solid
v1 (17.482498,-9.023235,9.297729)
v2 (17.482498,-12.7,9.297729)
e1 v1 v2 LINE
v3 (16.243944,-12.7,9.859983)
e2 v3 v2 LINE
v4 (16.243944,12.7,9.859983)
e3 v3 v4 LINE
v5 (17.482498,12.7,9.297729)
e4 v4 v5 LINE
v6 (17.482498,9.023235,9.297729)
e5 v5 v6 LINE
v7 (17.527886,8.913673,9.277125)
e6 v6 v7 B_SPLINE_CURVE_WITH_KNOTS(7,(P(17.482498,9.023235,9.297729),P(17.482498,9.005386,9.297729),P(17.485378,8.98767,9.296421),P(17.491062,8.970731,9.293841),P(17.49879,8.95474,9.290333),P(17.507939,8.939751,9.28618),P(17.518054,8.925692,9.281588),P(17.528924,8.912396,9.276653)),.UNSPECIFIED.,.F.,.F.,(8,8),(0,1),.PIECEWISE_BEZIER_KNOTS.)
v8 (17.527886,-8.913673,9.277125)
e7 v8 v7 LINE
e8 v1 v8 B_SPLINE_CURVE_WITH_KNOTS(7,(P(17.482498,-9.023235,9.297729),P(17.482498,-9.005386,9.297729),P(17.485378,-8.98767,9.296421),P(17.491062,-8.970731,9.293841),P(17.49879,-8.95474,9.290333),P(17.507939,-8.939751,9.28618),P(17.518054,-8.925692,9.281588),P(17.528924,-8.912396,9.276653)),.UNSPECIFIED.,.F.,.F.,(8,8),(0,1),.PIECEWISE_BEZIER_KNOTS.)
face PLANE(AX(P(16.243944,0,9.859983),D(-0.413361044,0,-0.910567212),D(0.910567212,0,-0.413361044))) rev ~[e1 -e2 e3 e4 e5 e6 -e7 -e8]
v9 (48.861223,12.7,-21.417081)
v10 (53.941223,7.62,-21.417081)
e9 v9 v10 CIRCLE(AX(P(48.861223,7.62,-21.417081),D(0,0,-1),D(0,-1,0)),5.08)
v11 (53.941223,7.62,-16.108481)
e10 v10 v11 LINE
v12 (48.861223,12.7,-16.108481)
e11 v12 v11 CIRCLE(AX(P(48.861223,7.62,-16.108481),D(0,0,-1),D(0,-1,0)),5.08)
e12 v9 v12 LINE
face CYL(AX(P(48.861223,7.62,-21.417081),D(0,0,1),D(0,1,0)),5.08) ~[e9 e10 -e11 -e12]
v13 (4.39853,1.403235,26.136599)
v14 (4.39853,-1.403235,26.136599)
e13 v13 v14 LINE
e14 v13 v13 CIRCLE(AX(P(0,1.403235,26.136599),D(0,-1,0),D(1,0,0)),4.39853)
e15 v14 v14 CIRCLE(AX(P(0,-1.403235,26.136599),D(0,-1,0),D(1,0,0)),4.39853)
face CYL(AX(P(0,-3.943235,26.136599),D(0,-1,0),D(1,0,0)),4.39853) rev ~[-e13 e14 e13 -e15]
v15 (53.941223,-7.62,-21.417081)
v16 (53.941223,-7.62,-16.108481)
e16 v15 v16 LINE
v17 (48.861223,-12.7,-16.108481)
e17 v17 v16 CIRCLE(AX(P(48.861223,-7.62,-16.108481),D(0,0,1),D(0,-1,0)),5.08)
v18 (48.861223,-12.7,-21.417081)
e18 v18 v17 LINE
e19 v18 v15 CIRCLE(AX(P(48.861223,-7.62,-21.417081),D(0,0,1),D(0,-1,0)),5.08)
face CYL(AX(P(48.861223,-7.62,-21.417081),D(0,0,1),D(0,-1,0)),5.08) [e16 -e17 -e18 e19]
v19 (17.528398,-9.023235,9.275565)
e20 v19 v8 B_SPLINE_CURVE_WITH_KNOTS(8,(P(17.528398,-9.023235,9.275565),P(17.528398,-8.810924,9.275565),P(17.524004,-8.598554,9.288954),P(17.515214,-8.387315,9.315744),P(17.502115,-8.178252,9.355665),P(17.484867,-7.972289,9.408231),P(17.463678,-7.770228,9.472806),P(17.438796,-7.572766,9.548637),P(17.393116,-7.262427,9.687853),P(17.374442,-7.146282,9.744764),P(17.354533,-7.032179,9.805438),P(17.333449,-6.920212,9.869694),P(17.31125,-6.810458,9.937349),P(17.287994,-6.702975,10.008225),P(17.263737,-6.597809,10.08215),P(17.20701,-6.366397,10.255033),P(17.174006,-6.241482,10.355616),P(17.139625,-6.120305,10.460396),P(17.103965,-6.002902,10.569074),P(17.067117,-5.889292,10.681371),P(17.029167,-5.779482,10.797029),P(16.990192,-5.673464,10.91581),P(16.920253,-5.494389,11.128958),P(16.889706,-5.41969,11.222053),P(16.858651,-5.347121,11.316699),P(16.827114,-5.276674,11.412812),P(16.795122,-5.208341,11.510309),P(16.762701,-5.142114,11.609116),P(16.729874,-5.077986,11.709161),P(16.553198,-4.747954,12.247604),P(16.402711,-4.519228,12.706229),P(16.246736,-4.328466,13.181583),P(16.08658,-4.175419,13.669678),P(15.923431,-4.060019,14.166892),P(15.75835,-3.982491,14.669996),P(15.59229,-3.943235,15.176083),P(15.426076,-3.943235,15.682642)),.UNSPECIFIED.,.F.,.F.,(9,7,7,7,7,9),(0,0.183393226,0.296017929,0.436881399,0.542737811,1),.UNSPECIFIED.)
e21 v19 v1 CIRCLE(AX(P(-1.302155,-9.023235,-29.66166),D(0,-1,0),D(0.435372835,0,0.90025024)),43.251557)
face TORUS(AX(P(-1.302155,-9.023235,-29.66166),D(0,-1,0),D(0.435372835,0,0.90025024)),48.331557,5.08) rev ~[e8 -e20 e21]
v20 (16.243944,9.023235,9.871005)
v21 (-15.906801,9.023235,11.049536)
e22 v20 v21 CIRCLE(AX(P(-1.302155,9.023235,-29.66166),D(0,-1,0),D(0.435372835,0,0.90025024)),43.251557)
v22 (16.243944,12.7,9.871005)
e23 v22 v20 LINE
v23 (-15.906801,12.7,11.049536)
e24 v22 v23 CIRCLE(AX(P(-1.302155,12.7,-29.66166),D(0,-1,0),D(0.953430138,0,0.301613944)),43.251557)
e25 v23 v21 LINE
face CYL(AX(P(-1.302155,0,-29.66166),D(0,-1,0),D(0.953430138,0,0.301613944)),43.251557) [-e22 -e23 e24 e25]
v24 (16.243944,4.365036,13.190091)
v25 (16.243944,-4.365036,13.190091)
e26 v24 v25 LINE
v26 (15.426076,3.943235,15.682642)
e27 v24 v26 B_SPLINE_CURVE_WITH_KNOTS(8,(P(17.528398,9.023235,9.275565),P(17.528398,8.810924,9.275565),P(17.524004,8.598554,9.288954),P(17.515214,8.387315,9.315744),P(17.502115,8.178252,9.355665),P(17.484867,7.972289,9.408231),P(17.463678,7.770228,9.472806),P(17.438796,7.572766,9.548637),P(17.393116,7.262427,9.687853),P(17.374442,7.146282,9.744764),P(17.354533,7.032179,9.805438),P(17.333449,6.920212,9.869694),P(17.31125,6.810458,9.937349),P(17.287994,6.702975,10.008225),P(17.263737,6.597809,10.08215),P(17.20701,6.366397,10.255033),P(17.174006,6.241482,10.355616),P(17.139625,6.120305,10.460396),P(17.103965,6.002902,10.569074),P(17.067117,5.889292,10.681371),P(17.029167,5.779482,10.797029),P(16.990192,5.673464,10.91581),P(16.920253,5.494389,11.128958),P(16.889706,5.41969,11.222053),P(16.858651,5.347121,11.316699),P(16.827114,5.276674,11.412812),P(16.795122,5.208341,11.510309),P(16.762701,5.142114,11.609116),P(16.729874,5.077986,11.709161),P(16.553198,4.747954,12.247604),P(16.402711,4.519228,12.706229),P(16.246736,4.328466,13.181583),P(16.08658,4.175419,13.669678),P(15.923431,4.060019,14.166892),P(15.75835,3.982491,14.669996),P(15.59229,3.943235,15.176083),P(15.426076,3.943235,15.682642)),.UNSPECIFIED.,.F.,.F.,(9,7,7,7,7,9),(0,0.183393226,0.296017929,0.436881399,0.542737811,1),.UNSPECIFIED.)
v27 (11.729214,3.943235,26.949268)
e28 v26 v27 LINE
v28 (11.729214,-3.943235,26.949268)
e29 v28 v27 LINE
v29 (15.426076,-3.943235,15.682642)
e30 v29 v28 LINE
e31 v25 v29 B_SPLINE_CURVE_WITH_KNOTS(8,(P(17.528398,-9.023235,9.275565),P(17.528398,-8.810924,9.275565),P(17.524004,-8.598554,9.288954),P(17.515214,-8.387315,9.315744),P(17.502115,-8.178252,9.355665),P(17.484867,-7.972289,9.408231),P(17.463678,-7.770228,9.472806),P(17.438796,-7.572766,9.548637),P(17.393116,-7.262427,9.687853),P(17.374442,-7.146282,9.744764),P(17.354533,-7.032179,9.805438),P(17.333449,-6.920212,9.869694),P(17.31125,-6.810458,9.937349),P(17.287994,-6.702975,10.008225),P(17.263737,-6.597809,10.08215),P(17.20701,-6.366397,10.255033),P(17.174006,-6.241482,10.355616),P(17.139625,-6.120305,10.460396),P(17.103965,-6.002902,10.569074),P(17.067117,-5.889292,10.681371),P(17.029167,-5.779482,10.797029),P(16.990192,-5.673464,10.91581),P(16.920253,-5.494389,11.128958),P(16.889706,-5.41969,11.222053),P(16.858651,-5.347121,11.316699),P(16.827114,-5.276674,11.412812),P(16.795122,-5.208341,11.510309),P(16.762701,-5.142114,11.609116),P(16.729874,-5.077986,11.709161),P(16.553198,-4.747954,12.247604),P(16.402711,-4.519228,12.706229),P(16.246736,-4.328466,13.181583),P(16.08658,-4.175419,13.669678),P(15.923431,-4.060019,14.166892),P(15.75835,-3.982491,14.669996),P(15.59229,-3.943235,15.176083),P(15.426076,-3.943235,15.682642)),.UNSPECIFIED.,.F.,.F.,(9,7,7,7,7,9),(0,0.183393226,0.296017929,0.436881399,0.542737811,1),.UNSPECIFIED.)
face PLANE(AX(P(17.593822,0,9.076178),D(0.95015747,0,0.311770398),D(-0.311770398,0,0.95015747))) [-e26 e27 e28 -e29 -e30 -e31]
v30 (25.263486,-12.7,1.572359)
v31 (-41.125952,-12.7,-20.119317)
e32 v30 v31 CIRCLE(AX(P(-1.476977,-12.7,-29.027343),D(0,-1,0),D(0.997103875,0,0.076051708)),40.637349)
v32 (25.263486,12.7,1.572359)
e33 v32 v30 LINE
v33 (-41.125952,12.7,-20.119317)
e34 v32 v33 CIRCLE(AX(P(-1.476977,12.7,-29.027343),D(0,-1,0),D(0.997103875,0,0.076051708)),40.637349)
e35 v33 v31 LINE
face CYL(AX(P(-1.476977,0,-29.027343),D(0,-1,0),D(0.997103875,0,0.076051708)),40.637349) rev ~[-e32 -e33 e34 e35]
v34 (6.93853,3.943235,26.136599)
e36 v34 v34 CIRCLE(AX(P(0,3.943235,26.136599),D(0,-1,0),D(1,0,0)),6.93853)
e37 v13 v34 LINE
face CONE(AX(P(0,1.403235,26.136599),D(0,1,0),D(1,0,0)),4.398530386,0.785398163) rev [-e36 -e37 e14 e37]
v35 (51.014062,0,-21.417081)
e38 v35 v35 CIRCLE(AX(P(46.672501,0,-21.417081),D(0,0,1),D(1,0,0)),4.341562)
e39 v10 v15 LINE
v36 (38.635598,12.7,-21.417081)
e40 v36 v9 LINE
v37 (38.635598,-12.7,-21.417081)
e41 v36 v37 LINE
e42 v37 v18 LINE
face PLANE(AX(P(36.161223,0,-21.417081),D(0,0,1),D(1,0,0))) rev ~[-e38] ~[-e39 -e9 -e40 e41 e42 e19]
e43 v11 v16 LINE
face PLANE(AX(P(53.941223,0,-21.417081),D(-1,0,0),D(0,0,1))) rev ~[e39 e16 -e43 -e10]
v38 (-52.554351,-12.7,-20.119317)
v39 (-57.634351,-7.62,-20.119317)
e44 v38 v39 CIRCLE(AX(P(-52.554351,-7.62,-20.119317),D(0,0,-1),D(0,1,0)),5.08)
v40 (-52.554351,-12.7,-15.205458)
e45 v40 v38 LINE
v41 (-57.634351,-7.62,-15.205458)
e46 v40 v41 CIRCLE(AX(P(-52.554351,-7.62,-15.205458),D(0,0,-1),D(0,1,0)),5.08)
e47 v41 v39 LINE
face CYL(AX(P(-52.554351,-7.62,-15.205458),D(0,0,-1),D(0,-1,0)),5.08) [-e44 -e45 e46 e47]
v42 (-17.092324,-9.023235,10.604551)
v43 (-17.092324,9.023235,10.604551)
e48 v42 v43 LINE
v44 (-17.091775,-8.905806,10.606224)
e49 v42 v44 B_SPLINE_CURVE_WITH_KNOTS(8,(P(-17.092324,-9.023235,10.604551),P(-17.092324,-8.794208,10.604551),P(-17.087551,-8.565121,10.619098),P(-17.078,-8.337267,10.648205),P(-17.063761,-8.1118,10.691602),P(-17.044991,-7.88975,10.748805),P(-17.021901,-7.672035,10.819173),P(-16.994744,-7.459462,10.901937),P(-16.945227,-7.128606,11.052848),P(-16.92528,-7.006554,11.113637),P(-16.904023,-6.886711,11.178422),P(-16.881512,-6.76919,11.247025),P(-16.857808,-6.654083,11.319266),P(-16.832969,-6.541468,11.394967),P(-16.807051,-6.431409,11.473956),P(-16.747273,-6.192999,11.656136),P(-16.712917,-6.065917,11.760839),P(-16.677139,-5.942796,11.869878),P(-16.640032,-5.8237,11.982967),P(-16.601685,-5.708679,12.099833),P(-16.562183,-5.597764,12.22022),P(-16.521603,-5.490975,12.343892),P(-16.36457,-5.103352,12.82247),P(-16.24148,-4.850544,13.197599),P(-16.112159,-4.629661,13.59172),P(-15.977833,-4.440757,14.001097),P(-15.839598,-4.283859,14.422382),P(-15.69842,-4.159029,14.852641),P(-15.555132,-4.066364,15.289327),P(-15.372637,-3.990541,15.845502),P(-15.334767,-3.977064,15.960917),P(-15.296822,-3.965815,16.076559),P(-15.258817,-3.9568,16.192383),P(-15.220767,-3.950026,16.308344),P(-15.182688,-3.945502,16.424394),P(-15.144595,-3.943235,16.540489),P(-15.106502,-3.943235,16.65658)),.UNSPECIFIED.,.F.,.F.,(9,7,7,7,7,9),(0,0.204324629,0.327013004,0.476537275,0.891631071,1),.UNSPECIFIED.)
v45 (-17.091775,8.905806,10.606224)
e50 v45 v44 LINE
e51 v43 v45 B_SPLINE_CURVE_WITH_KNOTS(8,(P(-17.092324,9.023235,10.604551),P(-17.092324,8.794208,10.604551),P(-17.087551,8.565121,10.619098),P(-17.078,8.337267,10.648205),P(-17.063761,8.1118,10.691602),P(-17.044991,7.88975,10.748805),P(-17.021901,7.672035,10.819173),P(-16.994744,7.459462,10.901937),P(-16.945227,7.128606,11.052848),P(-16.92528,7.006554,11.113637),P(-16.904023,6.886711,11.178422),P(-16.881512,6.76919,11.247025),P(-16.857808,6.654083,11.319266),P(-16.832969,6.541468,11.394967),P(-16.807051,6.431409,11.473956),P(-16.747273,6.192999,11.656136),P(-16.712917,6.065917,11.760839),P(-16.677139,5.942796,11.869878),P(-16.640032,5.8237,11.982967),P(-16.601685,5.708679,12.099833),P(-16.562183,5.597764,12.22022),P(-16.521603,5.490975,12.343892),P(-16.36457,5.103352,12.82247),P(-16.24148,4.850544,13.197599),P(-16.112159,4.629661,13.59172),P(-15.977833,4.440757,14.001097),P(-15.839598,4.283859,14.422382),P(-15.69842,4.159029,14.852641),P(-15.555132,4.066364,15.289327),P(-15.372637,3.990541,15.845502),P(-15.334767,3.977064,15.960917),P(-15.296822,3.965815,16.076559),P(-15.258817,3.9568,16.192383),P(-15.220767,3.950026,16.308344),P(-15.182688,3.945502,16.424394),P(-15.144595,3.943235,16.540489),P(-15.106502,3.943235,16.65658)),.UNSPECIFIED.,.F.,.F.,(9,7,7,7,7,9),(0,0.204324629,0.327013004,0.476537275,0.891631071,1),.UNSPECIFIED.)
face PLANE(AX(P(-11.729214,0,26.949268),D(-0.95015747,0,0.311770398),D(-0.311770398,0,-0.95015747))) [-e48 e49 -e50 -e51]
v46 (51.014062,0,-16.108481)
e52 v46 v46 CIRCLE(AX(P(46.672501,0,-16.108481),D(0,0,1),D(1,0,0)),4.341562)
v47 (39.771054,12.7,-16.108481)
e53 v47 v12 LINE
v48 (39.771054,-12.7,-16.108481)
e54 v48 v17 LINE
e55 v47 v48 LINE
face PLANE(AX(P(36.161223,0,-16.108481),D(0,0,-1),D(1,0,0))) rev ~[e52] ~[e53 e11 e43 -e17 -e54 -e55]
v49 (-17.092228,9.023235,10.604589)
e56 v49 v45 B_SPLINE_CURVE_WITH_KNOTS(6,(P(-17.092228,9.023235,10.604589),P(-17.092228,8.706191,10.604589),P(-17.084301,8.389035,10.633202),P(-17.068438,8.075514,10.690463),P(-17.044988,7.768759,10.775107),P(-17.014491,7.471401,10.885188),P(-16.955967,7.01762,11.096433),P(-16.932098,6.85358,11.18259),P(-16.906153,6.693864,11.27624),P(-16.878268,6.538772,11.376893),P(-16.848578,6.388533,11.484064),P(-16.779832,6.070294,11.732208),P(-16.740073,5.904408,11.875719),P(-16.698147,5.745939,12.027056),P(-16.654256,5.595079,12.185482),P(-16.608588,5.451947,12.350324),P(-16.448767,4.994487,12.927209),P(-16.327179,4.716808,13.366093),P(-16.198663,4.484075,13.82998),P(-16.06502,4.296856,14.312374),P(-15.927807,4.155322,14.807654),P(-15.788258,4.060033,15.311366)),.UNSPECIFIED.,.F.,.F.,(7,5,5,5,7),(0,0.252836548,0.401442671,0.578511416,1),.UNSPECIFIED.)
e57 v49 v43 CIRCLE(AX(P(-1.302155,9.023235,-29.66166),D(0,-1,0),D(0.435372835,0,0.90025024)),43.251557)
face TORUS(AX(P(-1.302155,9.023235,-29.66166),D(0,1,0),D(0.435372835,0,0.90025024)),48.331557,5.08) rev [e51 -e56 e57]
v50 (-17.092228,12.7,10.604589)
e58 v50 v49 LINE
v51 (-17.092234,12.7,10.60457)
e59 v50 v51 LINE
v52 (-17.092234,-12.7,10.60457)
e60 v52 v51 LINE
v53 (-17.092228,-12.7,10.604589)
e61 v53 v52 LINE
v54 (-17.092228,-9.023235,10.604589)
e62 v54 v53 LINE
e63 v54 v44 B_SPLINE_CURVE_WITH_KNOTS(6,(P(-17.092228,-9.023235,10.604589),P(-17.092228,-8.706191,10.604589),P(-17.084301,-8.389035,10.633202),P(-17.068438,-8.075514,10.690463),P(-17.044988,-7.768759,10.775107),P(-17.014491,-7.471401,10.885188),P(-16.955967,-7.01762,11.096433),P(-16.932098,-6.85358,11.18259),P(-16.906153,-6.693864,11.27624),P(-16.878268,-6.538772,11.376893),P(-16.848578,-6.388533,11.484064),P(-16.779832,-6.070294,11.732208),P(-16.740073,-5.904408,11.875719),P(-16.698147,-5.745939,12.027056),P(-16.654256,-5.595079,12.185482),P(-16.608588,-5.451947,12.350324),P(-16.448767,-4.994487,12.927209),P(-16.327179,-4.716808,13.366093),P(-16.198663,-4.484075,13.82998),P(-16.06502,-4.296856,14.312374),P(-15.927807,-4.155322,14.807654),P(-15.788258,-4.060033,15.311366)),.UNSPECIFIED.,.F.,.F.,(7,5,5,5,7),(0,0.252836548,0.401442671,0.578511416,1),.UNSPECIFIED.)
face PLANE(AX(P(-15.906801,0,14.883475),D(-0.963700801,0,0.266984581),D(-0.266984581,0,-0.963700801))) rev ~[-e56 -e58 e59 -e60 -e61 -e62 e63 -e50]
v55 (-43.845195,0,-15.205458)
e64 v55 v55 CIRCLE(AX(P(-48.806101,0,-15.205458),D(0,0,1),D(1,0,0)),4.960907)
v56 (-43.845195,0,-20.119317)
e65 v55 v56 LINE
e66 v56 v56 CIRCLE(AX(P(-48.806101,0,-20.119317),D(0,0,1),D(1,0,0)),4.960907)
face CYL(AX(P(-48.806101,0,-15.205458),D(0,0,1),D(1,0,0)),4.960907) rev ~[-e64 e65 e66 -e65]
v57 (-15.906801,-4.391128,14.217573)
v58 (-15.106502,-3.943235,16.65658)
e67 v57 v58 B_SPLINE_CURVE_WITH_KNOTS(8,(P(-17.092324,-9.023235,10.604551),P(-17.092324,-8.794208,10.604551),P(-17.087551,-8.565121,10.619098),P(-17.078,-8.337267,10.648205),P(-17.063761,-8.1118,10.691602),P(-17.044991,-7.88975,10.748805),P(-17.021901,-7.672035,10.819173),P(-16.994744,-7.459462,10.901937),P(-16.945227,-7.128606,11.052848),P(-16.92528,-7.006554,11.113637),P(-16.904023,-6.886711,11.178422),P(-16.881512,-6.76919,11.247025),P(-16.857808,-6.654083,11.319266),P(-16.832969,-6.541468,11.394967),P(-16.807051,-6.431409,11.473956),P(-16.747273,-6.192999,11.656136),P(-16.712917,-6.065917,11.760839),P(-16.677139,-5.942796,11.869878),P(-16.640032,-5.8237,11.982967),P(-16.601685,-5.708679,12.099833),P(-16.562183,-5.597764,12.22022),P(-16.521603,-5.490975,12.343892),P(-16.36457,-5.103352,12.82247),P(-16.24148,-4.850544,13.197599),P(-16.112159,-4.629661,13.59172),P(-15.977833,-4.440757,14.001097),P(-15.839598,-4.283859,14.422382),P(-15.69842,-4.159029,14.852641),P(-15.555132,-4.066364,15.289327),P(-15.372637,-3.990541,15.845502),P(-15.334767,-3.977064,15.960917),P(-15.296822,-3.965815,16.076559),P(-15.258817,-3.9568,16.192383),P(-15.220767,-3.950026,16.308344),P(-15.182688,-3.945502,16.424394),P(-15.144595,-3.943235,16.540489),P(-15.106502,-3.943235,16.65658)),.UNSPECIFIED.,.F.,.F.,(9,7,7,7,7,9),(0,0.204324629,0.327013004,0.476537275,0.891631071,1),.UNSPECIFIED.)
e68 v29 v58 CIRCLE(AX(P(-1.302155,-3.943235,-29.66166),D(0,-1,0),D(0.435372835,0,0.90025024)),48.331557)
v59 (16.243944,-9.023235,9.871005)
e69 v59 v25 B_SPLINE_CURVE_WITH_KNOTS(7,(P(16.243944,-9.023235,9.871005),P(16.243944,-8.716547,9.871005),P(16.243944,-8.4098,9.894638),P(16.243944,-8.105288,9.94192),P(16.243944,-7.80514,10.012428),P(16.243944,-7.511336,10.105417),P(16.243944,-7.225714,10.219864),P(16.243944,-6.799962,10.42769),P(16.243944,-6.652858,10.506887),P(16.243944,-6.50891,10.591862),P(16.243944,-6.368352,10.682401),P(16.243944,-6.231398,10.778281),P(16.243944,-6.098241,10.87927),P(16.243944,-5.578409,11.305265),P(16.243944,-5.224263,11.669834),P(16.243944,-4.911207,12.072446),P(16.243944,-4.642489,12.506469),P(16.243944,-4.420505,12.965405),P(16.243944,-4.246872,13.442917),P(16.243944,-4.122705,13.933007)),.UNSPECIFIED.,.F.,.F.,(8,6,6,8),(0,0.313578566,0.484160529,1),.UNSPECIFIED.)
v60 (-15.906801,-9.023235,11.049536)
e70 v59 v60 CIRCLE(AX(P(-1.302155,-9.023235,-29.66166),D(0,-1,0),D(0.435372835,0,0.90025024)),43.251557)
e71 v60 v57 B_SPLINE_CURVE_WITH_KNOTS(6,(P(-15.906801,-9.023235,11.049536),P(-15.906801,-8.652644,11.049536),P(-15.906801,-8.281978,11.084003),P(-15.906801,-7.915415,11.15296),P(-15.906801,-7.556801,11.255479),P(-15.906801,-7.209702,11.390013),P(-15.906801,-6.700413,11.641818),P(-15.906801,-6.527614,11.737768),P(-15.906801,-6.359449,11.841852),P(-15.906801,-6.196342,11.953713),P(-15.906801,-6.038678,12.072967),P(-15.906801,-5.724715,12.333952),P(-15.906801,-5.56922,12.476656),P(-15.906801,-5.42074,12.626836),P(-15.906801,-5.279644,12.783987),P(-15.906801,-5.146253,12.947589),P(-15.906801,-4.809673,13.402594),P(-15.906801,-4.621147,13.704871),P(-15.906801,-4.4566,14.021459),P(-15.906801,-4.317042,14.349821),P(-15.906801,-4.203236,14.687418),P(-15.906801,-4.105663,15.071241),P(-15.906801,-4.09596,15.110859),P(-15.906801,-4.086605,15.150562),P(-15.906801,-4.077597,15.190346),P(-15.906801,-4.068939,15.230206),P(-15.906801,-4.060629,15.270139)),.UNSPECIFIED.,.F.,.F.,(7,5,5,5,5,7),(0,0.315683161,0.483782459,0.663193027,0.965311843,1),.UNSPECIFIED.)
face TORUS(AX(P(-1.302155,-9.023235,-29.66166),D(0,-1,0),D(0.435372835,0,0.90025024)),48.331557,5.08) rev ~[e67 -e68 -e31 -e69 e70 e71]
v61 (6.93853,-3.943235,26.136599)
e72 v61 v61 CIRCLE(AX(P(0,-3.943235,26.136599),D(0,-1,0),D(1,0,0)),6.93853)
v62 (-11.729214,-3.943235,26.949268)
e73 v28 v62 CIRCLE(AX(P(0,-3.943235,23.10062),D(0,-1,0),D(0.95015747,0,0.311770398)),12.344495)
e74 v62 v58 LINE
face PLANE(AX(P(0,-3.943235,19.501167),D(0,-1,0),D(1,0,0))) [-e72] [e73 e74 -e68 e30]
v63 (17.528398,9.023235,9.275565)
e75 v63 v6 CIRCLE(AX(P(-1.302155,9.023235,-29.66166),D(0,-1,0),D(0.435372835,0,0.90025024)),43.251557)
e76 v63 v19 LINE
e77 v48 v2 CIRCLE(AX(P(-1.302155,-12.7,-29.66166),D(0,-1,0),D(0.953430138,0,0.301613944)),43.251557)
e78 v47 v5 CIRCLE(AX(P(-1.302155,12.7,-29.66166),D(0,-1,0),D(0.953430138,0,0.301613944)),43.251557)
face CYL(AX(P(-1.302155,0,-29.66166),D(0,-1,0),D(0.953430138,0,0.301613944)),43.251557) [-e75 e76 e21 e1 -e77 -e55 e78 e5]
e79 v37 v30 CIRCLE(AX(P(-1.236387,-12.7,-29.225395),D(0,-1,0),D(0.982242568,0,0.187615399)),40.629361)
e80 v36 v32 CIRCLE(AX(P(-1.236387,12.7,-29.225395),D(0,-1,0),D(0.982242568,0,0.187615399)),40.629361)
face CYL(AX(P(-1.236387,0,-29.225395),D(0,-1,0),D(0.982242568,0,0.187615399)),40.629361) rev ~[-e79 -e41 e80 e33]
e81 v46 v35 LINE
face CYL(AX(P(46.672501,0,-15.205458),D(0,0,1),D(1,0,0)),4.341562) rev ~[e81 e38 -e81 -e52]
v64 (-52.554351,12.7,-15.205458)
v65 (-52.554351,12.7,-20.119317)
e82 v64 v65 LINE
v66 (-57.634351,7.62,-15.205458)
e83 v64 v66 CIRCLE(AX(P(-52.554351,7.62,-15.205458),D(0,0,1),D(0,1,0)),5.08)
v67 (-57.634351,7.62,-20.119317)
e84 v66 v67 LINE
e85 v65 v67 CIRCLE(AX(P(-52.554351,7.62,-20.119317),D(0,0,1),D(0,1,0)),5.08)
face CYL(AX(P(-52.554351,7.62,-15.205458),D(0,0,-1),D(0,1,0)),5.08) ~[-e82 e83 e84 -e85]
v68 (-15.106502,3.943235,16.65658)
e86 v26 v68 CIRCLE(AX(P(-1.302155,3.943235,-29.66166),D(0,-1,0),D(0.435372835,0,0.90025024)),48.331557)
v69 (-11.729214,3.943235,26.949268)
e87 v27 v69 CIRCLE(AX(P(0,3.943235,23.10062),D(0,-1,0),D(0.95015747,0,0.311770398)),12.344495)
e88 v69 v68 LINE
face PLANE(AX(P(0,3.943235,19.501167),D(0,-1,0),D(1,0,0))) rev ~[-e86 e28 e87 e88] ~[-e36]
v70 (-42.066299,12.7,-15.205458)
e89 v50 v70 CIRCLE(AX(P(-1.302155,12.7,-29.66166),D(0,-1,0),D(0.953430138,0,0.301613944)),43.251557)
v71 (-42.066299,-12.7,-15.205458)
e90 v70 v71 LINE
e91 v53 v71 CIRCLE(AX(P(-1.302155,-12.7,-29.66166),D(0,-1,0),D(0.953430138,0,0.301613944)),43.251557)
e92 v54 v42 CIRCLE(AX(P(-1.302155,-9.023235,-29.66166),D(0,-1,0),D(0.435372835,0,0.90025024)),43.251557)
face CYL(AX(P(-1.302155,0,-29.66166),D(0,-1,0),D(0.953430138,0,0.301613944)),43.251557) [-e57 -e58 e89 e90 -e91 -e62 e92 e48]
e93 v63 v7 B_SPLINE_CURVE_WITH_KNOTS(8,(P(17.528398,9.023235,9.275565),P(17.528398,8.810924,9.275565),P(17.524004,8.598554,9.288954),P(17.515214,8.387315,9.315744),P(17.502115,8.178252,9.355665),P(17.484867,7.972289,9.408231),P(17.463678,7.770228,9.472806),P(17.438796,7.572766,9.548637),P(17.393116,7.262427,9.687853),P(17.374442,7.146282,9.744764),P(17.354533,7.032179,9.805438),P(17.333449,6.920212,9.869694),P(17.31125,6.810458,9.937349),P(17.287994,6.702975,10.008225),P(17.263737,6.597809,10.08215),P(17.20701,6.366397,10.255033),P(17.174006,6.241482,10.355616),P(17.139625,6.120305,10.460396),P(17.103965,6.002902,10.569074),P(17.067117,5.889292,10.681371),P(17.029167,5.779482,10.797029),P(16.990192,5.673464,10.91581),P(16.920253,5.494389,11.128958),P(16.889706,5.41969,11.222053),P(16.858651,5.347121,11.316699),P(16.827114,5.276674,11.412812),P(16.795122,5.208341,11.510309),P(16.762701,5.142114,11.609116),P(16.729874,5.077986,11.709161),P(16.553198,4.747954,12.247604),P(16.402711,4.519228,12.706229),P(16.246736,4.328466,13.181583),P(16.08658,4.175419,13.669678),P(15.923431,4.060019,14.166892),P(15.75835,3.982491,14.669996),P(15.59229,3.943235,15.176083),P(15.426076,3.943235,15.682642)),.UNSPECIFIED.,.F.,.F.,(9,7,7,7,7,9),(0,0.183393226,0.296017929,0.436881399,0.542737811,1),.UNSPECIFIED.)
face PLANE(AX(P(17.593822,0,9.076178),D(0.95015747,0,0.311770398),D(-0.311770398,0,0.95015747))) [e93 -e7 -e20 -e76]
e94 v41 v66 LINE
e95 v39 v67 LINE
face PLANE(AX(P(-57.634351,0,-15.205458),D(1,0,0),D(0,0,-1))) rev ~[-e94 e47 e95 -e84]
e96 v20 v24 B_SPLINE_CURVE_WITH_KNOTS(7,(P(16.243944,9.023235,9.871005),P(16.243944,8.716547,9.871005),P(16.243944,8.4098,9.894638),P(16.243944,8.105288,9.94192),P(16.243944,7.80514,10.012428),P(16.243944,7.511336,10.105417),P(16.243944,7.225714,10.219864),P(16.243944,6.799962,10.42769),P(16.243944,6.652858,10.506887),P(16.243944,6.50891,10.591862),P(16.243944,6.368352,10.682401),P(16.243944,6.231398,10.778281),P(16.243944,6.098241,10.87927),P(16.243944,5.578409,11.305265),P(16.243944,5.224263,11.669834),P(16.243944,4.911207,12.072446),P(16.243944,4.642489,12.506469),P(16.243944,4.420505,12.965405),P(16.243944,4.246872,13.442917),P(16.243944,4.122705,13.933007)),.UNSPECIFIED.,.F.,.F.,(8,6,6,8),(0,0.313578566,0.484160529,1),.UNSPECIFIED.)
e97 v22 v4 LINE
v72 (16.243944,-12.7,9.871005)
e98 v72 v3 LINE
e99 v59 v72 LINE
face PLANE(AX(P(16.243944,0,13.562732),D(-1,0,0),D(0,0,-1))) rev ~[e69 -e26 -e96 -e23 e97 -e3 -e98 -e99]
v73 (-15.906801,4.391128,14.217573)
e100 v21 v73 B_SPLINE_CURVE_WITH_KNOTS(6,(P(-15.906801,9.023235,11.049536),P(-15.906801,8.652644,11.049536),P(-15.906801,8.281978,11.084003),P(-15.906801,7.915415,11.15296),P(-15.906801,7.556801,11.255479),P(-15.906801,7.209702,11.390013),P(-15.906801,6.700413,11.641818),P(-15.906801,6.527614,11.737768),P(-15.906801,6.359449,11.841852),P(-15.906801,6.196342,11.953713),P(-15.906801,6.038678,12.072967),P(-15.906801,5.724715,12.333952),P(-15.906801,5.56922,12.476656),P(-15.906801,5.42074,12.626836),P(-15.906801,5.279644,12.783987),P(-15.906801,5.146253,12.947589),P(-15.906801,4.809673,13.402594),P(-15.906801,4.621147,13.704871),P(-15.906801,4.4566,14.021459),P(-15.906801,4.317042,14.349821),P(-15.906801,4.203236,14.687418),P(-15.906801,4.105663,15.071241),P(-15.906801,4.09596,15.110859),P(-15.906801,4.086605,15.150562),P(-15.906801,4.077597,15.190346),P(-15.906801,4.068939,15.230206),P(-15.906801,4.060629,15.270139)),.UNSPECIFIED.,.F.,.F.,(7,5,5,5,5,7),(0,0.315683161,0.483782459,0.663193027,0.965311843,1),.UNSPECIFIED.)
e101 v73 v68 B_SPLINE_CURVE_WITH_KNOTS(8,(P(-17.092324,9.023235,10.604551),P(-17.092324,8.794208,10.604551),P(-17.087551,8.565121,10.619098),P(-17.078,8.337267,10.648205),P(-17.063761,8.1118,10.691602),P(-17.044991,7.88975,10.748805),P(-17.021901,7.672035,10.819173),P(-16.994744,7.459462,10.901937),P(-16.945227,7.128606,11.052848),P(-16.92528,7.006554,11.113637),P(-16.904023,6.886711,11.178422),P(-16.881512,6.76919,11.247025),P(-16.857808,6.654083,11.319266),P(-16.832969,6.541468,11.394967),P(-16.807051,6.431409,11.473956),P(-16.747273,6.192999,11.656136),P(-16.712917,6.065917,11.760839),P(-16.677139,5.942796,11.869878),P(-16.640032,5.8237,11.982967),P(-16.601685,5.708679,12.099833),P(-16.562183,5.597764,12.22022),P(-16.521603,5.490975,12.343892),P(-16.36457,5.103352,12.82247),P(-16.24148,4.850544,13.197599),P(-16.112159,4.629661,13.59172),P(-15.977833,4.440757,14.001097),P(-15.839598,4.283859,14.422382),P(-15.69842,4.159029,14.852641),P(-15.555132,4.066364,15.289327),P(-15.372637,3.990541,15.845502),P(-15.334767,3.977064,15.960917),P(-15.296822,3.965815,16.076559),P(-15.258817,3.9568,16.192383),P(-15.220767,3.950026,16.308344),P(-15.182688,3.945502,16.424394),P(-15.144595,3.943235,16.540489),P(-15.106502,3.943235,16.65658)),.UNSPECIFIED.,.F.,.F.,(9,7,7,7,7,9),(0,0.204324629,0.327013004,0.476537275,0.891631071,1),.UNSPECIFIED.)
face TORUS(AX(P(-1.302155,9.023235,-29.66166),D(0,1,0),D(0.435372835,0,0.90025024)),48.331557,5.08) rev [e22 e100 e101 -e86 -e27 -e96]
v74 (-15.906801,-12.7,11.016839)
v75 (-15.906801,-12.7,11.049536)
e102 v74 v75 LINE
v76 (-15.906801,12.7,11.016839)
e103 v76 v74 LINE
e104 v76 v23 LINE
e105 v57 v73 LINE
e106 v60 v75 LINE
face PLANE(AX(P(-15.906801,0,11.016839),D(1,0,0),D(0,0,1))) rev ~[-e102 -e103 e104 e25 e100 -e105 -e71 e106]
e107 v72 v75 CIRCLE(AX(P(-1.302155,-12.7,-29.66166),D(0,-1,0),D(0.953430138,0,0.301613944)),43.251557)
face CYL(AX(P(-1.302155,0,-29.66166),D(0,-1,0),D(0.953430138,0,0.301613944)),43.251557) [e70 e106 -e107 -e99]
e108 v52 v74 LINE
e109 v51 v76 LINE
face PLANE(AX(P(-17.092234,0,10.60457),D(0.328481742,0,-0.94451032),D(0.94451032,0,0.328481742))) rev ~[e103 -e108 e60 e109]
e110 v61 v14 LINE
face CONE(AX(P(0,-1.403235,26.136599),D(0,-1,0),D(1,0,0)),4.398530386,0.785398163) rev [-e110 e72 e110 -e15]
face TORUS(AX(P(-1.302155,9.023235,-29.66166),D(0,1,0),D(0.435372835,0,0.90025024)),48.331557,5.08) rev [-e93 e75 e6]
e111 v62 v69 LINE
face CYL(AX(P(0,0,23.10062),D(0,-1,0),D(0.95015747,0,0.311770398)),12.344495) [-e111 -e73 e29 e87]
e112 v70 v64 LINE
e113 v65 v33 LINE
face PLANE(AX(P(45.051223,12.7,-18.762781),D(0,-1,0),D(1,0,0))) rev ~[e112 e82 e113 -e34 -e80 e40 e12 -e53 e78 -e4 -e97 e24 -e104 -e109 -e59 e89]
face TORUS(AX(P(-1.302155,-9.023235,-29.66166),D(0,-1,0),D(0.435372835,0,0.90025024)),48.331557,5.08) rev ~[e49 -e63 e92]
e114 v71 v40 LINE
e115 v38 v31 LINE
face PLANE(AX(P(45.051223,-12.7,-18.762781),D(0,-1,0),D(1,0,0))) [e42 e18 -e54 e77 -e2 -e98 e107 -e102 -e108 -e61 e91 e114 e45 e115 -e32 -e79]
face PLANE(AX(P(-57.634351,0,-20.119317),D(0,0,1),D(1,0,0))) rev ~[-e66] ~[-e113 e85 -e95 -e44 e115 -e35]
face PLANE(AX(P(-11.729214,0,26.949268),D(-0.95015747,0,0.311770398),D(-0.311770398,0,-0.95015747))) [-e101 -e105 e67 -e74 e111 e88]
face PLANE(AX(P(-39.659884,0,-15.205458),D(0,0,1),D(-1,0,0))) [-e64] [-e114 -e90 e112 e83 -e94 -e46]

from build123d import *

# Parameters (mm, degrees)
F1_DEPTH  = 3.943235
F3_DEPTH  = 12.7
F4_R      = 5.08
F6_DEPTH  = 12.7
F7_W      = 17.78
F7_H      = 5.3086
F8_DEPTH  = 12.7
F9_DEPTH  = 8.66714
F10_DEPTH = 9.47498
F12_DEPTH = 12.7
F13_DEPTH = 12.7
F14_R     = 4.3985303862
F15_DEPTH = 53.72973
F16_SIZE  = 2.54
F17_SIZE  = 2.54
F18_R     = 5.08
F19_R     = 4.960906564
F19_R_2   = 4.3415616657
F20_DEPTH = 23.4886
F22_DEPTH = 18.208115
F24_DEPTH = 12.7
F26_DEPTH = 20.13737


with BuildPart() as f1:
    # F0 (on Front) → F1 (new body, symmetric)
    with BuildSketch(Plane.XZ):
        with BuildLine():
            Line((-11.7292143404, 26.9492678344), (-17.5938215107, 9.0761780739))
            ThreePointArc((-17.5938215107, 9.0761780739), (0, 11.6662775846), (17.5938215107, 9.0761780739))
            Line((17.5938215107, 9.0761780739), (11.7292143404, 26.9492678344))
            ThreePointArc((11.7292143404, 26.9492678344), (0, 35.4451148535), (-11.7292143404, 26.9492678344))
        make_face()
    extrude(amount=F1_DEPTH, both=True)

    # F2 (on Front) → F3 (join, symmetric)
    with BuildSketch(Plane.XZ):
        with BuildLine():
            Line((36.3047122955, -16.6163872927), (39.93518278, -16.6163872927))
            ThreePointArc((39.93518278, -16.6163872927), (-0.7137528874, 13.5858944169), (-42.1693213284, -15.4993189499))
            Line((-42.1693213284, -15.4993189499), (-39.0973836184, -15.7785862684))
            ThreePointArc((-39.0973836184, -15.7785862684), (-1.101821027, 10.3088316272), (36.3047122955, -16.6163872927))
        make_face()
    extrude(amount=F3_DEPTH, both=True)

    # F4
    f4_edges = [f1.edges().sort_by_distance(p)[0] for p in [
        (0.356921, -3.943235, 13.558065),
        (0.356921, 3.943235, 13.558065),
    ]]
    fillet(f4_edges, radius=F4_R)

    # F5 (on Front) → F6 (join, symmetric)
    with BuildSketch(Plane.XZ):
        Polygon((-39.8543514311, -20.1193168759), (-39.659883827, -15.2054578066), (-57.6343514311, -15.2054578066), (-57.6343514311, -20.1193168759), align=None)
    extrude(amount=F6_DEPTH, both=True)

    # F7 (on Front) → F8 (join, symmetric)
    with BuildSketch(Plane.XZ):
        with Locations((45.0512229579, -18.7627813943)):
            Rectangle(F7_W, F7_H)
    extrude(amount=F8_DEPTH, both=True)

    # F5 (on Front) → F9 (join)
    with BuildSketch(Plane.XZ):
        Polygon((-39.8543514311, -20.1193168759), (-39.659883827, -15.2054578066), (-57.6343514311, -15.2054578066), (-57.6343514311, -20.1193168759), align=None)
    extrude(amount=F9_DEPTH)

    # F7 (on Front) → F10 (join)
    with BuildSketch(Plane.XZ):
        with Locations((45.0512229579, -18.7627813943)):
            Rectangle(F7_W, F7_H)
    extrude(amount=F10_DEPTH)

    # F11 (on Front) → F12 (cut, symmetric)
    with BuildSketch(Plane.XZ):
        with BuildLine():
            ThreePointArc((-40.8051013947, -20.0025010854), (-1.7400987678, -54.2430909447), (38.6715009809, -21.6027013958))
            ThreePointArc((38.6715009809, -21.6027013958), (-0.4185114947, 11.3957328504), (-40.8051013947, -20.0025010854))
        make_face()
    extrude(amount=F12_DEPTH, both=True, mode=Mode.SUBTRACT)

    # F11 (on Front) → F13 (cut, symmetric)
    with BuildSketch(Plane.XZ):
        with BuildLine():
            ThreePointArc((-40.8051013947, -20.0025010854), (-1.7400987678, -54.2430909447), (38.6715009809, -21.6027013958))
            ThreePointArc((38.6715009809, -21.6027013958), (-0.4185114947, 11.3957328504), (-40.8051013947, -20.0025010854))
        make_face()
    extrude(amount=F13_DEPTH, both=True, mode=Mode.SUBTRACT)

    # F14 (on face) → F15 (cut, symmetric)
    with BuildSketch(Plane.XZ.offset(3.943235)):
        with Locations((0, 26.1365994811)):
            Circle(F14_R)
    extrude(amount=F15_DEPTH, both=True, mode=Mode.SUBTRACT)

    # F16
    f16_edges = [f1.edges().sort_by_distance(p)[0] for p in [
        (-4.39853, -3.943235, 26.136599),
    ]]
    chamfer(f16_edges, length=F16_SIZE)

    # F17
    f17_edges = [f1.edges().sort_by_distance(p)[0] for p in [
        (-4.39853, 3.943235, 26.136599),
    ]]
    chamfer(f17_edges, length=F17_SIZE)

    # F18
    f18_edges = [f1.edges().sort_by_distance(p)[0] for p in [
        (53.941223, 12.7, -18.762781),
        (53.941223, -12.7, -18.762781),
        (-57.634351, 12.7, -17.662387),
        (-57.634351, -12.7, -17.662387),
    ]]
    fillet(f18_edges, radius=F18_R)

    # F19 (on face) → F20 (cut)
    with BuildSketch(Plane.XY.offset(-15.2054578066)):
        with Locations((-48.8061010838, 0)):
            Circle(F19_R)
        with Locations((46.67250067, 0)):
            Circle(F19_R_2)
    extrude(amount=-F20_DEPTH, mode=Mode.SUBTRACT)

    # F21 (on Front) → F22 (cut, symmetric)
    with BuildSketch(Plane.XZ):
        with BuildLine():
            Line((-41.792165488, -23.9205155522), (39.0426814556, -25.9368028492))
            ThreePointArc((39.0426814556, -25.9368028492), (-0.4636625416, 11.5973705937), (-41.792165488, -23.9205155522))
        make_face()
    extrude(amount=F22_DEPTH, both=True, mode=Mode.SUBTRACT)

    # F23 (on Front) → F24 (cut, symmetric)
    with BuildSketch(Plane.XZ):
        Polygon((-17.0922335237, 10.6045696884), (-15.9068014473, 11.0168391839), (-15.9068014473, 14.8834753782), align=None)
    extrude(amount=F24_DEPTH, both=True, mode=Mode.SUBTRACT)

    # F25 (on Front) → F26 (cut, symmetric)
    with BuildSketch(Plane.XZ):
        Polygon((17.5980012864, 9.2452950776), (16.2439439446, 13.5627323762), (16.2439439446, 9.859982878), align=None)
    extrude(amount=F26_DEPTH, both=True, mode=Mode.SUBTRACT)


solid = f1.part
